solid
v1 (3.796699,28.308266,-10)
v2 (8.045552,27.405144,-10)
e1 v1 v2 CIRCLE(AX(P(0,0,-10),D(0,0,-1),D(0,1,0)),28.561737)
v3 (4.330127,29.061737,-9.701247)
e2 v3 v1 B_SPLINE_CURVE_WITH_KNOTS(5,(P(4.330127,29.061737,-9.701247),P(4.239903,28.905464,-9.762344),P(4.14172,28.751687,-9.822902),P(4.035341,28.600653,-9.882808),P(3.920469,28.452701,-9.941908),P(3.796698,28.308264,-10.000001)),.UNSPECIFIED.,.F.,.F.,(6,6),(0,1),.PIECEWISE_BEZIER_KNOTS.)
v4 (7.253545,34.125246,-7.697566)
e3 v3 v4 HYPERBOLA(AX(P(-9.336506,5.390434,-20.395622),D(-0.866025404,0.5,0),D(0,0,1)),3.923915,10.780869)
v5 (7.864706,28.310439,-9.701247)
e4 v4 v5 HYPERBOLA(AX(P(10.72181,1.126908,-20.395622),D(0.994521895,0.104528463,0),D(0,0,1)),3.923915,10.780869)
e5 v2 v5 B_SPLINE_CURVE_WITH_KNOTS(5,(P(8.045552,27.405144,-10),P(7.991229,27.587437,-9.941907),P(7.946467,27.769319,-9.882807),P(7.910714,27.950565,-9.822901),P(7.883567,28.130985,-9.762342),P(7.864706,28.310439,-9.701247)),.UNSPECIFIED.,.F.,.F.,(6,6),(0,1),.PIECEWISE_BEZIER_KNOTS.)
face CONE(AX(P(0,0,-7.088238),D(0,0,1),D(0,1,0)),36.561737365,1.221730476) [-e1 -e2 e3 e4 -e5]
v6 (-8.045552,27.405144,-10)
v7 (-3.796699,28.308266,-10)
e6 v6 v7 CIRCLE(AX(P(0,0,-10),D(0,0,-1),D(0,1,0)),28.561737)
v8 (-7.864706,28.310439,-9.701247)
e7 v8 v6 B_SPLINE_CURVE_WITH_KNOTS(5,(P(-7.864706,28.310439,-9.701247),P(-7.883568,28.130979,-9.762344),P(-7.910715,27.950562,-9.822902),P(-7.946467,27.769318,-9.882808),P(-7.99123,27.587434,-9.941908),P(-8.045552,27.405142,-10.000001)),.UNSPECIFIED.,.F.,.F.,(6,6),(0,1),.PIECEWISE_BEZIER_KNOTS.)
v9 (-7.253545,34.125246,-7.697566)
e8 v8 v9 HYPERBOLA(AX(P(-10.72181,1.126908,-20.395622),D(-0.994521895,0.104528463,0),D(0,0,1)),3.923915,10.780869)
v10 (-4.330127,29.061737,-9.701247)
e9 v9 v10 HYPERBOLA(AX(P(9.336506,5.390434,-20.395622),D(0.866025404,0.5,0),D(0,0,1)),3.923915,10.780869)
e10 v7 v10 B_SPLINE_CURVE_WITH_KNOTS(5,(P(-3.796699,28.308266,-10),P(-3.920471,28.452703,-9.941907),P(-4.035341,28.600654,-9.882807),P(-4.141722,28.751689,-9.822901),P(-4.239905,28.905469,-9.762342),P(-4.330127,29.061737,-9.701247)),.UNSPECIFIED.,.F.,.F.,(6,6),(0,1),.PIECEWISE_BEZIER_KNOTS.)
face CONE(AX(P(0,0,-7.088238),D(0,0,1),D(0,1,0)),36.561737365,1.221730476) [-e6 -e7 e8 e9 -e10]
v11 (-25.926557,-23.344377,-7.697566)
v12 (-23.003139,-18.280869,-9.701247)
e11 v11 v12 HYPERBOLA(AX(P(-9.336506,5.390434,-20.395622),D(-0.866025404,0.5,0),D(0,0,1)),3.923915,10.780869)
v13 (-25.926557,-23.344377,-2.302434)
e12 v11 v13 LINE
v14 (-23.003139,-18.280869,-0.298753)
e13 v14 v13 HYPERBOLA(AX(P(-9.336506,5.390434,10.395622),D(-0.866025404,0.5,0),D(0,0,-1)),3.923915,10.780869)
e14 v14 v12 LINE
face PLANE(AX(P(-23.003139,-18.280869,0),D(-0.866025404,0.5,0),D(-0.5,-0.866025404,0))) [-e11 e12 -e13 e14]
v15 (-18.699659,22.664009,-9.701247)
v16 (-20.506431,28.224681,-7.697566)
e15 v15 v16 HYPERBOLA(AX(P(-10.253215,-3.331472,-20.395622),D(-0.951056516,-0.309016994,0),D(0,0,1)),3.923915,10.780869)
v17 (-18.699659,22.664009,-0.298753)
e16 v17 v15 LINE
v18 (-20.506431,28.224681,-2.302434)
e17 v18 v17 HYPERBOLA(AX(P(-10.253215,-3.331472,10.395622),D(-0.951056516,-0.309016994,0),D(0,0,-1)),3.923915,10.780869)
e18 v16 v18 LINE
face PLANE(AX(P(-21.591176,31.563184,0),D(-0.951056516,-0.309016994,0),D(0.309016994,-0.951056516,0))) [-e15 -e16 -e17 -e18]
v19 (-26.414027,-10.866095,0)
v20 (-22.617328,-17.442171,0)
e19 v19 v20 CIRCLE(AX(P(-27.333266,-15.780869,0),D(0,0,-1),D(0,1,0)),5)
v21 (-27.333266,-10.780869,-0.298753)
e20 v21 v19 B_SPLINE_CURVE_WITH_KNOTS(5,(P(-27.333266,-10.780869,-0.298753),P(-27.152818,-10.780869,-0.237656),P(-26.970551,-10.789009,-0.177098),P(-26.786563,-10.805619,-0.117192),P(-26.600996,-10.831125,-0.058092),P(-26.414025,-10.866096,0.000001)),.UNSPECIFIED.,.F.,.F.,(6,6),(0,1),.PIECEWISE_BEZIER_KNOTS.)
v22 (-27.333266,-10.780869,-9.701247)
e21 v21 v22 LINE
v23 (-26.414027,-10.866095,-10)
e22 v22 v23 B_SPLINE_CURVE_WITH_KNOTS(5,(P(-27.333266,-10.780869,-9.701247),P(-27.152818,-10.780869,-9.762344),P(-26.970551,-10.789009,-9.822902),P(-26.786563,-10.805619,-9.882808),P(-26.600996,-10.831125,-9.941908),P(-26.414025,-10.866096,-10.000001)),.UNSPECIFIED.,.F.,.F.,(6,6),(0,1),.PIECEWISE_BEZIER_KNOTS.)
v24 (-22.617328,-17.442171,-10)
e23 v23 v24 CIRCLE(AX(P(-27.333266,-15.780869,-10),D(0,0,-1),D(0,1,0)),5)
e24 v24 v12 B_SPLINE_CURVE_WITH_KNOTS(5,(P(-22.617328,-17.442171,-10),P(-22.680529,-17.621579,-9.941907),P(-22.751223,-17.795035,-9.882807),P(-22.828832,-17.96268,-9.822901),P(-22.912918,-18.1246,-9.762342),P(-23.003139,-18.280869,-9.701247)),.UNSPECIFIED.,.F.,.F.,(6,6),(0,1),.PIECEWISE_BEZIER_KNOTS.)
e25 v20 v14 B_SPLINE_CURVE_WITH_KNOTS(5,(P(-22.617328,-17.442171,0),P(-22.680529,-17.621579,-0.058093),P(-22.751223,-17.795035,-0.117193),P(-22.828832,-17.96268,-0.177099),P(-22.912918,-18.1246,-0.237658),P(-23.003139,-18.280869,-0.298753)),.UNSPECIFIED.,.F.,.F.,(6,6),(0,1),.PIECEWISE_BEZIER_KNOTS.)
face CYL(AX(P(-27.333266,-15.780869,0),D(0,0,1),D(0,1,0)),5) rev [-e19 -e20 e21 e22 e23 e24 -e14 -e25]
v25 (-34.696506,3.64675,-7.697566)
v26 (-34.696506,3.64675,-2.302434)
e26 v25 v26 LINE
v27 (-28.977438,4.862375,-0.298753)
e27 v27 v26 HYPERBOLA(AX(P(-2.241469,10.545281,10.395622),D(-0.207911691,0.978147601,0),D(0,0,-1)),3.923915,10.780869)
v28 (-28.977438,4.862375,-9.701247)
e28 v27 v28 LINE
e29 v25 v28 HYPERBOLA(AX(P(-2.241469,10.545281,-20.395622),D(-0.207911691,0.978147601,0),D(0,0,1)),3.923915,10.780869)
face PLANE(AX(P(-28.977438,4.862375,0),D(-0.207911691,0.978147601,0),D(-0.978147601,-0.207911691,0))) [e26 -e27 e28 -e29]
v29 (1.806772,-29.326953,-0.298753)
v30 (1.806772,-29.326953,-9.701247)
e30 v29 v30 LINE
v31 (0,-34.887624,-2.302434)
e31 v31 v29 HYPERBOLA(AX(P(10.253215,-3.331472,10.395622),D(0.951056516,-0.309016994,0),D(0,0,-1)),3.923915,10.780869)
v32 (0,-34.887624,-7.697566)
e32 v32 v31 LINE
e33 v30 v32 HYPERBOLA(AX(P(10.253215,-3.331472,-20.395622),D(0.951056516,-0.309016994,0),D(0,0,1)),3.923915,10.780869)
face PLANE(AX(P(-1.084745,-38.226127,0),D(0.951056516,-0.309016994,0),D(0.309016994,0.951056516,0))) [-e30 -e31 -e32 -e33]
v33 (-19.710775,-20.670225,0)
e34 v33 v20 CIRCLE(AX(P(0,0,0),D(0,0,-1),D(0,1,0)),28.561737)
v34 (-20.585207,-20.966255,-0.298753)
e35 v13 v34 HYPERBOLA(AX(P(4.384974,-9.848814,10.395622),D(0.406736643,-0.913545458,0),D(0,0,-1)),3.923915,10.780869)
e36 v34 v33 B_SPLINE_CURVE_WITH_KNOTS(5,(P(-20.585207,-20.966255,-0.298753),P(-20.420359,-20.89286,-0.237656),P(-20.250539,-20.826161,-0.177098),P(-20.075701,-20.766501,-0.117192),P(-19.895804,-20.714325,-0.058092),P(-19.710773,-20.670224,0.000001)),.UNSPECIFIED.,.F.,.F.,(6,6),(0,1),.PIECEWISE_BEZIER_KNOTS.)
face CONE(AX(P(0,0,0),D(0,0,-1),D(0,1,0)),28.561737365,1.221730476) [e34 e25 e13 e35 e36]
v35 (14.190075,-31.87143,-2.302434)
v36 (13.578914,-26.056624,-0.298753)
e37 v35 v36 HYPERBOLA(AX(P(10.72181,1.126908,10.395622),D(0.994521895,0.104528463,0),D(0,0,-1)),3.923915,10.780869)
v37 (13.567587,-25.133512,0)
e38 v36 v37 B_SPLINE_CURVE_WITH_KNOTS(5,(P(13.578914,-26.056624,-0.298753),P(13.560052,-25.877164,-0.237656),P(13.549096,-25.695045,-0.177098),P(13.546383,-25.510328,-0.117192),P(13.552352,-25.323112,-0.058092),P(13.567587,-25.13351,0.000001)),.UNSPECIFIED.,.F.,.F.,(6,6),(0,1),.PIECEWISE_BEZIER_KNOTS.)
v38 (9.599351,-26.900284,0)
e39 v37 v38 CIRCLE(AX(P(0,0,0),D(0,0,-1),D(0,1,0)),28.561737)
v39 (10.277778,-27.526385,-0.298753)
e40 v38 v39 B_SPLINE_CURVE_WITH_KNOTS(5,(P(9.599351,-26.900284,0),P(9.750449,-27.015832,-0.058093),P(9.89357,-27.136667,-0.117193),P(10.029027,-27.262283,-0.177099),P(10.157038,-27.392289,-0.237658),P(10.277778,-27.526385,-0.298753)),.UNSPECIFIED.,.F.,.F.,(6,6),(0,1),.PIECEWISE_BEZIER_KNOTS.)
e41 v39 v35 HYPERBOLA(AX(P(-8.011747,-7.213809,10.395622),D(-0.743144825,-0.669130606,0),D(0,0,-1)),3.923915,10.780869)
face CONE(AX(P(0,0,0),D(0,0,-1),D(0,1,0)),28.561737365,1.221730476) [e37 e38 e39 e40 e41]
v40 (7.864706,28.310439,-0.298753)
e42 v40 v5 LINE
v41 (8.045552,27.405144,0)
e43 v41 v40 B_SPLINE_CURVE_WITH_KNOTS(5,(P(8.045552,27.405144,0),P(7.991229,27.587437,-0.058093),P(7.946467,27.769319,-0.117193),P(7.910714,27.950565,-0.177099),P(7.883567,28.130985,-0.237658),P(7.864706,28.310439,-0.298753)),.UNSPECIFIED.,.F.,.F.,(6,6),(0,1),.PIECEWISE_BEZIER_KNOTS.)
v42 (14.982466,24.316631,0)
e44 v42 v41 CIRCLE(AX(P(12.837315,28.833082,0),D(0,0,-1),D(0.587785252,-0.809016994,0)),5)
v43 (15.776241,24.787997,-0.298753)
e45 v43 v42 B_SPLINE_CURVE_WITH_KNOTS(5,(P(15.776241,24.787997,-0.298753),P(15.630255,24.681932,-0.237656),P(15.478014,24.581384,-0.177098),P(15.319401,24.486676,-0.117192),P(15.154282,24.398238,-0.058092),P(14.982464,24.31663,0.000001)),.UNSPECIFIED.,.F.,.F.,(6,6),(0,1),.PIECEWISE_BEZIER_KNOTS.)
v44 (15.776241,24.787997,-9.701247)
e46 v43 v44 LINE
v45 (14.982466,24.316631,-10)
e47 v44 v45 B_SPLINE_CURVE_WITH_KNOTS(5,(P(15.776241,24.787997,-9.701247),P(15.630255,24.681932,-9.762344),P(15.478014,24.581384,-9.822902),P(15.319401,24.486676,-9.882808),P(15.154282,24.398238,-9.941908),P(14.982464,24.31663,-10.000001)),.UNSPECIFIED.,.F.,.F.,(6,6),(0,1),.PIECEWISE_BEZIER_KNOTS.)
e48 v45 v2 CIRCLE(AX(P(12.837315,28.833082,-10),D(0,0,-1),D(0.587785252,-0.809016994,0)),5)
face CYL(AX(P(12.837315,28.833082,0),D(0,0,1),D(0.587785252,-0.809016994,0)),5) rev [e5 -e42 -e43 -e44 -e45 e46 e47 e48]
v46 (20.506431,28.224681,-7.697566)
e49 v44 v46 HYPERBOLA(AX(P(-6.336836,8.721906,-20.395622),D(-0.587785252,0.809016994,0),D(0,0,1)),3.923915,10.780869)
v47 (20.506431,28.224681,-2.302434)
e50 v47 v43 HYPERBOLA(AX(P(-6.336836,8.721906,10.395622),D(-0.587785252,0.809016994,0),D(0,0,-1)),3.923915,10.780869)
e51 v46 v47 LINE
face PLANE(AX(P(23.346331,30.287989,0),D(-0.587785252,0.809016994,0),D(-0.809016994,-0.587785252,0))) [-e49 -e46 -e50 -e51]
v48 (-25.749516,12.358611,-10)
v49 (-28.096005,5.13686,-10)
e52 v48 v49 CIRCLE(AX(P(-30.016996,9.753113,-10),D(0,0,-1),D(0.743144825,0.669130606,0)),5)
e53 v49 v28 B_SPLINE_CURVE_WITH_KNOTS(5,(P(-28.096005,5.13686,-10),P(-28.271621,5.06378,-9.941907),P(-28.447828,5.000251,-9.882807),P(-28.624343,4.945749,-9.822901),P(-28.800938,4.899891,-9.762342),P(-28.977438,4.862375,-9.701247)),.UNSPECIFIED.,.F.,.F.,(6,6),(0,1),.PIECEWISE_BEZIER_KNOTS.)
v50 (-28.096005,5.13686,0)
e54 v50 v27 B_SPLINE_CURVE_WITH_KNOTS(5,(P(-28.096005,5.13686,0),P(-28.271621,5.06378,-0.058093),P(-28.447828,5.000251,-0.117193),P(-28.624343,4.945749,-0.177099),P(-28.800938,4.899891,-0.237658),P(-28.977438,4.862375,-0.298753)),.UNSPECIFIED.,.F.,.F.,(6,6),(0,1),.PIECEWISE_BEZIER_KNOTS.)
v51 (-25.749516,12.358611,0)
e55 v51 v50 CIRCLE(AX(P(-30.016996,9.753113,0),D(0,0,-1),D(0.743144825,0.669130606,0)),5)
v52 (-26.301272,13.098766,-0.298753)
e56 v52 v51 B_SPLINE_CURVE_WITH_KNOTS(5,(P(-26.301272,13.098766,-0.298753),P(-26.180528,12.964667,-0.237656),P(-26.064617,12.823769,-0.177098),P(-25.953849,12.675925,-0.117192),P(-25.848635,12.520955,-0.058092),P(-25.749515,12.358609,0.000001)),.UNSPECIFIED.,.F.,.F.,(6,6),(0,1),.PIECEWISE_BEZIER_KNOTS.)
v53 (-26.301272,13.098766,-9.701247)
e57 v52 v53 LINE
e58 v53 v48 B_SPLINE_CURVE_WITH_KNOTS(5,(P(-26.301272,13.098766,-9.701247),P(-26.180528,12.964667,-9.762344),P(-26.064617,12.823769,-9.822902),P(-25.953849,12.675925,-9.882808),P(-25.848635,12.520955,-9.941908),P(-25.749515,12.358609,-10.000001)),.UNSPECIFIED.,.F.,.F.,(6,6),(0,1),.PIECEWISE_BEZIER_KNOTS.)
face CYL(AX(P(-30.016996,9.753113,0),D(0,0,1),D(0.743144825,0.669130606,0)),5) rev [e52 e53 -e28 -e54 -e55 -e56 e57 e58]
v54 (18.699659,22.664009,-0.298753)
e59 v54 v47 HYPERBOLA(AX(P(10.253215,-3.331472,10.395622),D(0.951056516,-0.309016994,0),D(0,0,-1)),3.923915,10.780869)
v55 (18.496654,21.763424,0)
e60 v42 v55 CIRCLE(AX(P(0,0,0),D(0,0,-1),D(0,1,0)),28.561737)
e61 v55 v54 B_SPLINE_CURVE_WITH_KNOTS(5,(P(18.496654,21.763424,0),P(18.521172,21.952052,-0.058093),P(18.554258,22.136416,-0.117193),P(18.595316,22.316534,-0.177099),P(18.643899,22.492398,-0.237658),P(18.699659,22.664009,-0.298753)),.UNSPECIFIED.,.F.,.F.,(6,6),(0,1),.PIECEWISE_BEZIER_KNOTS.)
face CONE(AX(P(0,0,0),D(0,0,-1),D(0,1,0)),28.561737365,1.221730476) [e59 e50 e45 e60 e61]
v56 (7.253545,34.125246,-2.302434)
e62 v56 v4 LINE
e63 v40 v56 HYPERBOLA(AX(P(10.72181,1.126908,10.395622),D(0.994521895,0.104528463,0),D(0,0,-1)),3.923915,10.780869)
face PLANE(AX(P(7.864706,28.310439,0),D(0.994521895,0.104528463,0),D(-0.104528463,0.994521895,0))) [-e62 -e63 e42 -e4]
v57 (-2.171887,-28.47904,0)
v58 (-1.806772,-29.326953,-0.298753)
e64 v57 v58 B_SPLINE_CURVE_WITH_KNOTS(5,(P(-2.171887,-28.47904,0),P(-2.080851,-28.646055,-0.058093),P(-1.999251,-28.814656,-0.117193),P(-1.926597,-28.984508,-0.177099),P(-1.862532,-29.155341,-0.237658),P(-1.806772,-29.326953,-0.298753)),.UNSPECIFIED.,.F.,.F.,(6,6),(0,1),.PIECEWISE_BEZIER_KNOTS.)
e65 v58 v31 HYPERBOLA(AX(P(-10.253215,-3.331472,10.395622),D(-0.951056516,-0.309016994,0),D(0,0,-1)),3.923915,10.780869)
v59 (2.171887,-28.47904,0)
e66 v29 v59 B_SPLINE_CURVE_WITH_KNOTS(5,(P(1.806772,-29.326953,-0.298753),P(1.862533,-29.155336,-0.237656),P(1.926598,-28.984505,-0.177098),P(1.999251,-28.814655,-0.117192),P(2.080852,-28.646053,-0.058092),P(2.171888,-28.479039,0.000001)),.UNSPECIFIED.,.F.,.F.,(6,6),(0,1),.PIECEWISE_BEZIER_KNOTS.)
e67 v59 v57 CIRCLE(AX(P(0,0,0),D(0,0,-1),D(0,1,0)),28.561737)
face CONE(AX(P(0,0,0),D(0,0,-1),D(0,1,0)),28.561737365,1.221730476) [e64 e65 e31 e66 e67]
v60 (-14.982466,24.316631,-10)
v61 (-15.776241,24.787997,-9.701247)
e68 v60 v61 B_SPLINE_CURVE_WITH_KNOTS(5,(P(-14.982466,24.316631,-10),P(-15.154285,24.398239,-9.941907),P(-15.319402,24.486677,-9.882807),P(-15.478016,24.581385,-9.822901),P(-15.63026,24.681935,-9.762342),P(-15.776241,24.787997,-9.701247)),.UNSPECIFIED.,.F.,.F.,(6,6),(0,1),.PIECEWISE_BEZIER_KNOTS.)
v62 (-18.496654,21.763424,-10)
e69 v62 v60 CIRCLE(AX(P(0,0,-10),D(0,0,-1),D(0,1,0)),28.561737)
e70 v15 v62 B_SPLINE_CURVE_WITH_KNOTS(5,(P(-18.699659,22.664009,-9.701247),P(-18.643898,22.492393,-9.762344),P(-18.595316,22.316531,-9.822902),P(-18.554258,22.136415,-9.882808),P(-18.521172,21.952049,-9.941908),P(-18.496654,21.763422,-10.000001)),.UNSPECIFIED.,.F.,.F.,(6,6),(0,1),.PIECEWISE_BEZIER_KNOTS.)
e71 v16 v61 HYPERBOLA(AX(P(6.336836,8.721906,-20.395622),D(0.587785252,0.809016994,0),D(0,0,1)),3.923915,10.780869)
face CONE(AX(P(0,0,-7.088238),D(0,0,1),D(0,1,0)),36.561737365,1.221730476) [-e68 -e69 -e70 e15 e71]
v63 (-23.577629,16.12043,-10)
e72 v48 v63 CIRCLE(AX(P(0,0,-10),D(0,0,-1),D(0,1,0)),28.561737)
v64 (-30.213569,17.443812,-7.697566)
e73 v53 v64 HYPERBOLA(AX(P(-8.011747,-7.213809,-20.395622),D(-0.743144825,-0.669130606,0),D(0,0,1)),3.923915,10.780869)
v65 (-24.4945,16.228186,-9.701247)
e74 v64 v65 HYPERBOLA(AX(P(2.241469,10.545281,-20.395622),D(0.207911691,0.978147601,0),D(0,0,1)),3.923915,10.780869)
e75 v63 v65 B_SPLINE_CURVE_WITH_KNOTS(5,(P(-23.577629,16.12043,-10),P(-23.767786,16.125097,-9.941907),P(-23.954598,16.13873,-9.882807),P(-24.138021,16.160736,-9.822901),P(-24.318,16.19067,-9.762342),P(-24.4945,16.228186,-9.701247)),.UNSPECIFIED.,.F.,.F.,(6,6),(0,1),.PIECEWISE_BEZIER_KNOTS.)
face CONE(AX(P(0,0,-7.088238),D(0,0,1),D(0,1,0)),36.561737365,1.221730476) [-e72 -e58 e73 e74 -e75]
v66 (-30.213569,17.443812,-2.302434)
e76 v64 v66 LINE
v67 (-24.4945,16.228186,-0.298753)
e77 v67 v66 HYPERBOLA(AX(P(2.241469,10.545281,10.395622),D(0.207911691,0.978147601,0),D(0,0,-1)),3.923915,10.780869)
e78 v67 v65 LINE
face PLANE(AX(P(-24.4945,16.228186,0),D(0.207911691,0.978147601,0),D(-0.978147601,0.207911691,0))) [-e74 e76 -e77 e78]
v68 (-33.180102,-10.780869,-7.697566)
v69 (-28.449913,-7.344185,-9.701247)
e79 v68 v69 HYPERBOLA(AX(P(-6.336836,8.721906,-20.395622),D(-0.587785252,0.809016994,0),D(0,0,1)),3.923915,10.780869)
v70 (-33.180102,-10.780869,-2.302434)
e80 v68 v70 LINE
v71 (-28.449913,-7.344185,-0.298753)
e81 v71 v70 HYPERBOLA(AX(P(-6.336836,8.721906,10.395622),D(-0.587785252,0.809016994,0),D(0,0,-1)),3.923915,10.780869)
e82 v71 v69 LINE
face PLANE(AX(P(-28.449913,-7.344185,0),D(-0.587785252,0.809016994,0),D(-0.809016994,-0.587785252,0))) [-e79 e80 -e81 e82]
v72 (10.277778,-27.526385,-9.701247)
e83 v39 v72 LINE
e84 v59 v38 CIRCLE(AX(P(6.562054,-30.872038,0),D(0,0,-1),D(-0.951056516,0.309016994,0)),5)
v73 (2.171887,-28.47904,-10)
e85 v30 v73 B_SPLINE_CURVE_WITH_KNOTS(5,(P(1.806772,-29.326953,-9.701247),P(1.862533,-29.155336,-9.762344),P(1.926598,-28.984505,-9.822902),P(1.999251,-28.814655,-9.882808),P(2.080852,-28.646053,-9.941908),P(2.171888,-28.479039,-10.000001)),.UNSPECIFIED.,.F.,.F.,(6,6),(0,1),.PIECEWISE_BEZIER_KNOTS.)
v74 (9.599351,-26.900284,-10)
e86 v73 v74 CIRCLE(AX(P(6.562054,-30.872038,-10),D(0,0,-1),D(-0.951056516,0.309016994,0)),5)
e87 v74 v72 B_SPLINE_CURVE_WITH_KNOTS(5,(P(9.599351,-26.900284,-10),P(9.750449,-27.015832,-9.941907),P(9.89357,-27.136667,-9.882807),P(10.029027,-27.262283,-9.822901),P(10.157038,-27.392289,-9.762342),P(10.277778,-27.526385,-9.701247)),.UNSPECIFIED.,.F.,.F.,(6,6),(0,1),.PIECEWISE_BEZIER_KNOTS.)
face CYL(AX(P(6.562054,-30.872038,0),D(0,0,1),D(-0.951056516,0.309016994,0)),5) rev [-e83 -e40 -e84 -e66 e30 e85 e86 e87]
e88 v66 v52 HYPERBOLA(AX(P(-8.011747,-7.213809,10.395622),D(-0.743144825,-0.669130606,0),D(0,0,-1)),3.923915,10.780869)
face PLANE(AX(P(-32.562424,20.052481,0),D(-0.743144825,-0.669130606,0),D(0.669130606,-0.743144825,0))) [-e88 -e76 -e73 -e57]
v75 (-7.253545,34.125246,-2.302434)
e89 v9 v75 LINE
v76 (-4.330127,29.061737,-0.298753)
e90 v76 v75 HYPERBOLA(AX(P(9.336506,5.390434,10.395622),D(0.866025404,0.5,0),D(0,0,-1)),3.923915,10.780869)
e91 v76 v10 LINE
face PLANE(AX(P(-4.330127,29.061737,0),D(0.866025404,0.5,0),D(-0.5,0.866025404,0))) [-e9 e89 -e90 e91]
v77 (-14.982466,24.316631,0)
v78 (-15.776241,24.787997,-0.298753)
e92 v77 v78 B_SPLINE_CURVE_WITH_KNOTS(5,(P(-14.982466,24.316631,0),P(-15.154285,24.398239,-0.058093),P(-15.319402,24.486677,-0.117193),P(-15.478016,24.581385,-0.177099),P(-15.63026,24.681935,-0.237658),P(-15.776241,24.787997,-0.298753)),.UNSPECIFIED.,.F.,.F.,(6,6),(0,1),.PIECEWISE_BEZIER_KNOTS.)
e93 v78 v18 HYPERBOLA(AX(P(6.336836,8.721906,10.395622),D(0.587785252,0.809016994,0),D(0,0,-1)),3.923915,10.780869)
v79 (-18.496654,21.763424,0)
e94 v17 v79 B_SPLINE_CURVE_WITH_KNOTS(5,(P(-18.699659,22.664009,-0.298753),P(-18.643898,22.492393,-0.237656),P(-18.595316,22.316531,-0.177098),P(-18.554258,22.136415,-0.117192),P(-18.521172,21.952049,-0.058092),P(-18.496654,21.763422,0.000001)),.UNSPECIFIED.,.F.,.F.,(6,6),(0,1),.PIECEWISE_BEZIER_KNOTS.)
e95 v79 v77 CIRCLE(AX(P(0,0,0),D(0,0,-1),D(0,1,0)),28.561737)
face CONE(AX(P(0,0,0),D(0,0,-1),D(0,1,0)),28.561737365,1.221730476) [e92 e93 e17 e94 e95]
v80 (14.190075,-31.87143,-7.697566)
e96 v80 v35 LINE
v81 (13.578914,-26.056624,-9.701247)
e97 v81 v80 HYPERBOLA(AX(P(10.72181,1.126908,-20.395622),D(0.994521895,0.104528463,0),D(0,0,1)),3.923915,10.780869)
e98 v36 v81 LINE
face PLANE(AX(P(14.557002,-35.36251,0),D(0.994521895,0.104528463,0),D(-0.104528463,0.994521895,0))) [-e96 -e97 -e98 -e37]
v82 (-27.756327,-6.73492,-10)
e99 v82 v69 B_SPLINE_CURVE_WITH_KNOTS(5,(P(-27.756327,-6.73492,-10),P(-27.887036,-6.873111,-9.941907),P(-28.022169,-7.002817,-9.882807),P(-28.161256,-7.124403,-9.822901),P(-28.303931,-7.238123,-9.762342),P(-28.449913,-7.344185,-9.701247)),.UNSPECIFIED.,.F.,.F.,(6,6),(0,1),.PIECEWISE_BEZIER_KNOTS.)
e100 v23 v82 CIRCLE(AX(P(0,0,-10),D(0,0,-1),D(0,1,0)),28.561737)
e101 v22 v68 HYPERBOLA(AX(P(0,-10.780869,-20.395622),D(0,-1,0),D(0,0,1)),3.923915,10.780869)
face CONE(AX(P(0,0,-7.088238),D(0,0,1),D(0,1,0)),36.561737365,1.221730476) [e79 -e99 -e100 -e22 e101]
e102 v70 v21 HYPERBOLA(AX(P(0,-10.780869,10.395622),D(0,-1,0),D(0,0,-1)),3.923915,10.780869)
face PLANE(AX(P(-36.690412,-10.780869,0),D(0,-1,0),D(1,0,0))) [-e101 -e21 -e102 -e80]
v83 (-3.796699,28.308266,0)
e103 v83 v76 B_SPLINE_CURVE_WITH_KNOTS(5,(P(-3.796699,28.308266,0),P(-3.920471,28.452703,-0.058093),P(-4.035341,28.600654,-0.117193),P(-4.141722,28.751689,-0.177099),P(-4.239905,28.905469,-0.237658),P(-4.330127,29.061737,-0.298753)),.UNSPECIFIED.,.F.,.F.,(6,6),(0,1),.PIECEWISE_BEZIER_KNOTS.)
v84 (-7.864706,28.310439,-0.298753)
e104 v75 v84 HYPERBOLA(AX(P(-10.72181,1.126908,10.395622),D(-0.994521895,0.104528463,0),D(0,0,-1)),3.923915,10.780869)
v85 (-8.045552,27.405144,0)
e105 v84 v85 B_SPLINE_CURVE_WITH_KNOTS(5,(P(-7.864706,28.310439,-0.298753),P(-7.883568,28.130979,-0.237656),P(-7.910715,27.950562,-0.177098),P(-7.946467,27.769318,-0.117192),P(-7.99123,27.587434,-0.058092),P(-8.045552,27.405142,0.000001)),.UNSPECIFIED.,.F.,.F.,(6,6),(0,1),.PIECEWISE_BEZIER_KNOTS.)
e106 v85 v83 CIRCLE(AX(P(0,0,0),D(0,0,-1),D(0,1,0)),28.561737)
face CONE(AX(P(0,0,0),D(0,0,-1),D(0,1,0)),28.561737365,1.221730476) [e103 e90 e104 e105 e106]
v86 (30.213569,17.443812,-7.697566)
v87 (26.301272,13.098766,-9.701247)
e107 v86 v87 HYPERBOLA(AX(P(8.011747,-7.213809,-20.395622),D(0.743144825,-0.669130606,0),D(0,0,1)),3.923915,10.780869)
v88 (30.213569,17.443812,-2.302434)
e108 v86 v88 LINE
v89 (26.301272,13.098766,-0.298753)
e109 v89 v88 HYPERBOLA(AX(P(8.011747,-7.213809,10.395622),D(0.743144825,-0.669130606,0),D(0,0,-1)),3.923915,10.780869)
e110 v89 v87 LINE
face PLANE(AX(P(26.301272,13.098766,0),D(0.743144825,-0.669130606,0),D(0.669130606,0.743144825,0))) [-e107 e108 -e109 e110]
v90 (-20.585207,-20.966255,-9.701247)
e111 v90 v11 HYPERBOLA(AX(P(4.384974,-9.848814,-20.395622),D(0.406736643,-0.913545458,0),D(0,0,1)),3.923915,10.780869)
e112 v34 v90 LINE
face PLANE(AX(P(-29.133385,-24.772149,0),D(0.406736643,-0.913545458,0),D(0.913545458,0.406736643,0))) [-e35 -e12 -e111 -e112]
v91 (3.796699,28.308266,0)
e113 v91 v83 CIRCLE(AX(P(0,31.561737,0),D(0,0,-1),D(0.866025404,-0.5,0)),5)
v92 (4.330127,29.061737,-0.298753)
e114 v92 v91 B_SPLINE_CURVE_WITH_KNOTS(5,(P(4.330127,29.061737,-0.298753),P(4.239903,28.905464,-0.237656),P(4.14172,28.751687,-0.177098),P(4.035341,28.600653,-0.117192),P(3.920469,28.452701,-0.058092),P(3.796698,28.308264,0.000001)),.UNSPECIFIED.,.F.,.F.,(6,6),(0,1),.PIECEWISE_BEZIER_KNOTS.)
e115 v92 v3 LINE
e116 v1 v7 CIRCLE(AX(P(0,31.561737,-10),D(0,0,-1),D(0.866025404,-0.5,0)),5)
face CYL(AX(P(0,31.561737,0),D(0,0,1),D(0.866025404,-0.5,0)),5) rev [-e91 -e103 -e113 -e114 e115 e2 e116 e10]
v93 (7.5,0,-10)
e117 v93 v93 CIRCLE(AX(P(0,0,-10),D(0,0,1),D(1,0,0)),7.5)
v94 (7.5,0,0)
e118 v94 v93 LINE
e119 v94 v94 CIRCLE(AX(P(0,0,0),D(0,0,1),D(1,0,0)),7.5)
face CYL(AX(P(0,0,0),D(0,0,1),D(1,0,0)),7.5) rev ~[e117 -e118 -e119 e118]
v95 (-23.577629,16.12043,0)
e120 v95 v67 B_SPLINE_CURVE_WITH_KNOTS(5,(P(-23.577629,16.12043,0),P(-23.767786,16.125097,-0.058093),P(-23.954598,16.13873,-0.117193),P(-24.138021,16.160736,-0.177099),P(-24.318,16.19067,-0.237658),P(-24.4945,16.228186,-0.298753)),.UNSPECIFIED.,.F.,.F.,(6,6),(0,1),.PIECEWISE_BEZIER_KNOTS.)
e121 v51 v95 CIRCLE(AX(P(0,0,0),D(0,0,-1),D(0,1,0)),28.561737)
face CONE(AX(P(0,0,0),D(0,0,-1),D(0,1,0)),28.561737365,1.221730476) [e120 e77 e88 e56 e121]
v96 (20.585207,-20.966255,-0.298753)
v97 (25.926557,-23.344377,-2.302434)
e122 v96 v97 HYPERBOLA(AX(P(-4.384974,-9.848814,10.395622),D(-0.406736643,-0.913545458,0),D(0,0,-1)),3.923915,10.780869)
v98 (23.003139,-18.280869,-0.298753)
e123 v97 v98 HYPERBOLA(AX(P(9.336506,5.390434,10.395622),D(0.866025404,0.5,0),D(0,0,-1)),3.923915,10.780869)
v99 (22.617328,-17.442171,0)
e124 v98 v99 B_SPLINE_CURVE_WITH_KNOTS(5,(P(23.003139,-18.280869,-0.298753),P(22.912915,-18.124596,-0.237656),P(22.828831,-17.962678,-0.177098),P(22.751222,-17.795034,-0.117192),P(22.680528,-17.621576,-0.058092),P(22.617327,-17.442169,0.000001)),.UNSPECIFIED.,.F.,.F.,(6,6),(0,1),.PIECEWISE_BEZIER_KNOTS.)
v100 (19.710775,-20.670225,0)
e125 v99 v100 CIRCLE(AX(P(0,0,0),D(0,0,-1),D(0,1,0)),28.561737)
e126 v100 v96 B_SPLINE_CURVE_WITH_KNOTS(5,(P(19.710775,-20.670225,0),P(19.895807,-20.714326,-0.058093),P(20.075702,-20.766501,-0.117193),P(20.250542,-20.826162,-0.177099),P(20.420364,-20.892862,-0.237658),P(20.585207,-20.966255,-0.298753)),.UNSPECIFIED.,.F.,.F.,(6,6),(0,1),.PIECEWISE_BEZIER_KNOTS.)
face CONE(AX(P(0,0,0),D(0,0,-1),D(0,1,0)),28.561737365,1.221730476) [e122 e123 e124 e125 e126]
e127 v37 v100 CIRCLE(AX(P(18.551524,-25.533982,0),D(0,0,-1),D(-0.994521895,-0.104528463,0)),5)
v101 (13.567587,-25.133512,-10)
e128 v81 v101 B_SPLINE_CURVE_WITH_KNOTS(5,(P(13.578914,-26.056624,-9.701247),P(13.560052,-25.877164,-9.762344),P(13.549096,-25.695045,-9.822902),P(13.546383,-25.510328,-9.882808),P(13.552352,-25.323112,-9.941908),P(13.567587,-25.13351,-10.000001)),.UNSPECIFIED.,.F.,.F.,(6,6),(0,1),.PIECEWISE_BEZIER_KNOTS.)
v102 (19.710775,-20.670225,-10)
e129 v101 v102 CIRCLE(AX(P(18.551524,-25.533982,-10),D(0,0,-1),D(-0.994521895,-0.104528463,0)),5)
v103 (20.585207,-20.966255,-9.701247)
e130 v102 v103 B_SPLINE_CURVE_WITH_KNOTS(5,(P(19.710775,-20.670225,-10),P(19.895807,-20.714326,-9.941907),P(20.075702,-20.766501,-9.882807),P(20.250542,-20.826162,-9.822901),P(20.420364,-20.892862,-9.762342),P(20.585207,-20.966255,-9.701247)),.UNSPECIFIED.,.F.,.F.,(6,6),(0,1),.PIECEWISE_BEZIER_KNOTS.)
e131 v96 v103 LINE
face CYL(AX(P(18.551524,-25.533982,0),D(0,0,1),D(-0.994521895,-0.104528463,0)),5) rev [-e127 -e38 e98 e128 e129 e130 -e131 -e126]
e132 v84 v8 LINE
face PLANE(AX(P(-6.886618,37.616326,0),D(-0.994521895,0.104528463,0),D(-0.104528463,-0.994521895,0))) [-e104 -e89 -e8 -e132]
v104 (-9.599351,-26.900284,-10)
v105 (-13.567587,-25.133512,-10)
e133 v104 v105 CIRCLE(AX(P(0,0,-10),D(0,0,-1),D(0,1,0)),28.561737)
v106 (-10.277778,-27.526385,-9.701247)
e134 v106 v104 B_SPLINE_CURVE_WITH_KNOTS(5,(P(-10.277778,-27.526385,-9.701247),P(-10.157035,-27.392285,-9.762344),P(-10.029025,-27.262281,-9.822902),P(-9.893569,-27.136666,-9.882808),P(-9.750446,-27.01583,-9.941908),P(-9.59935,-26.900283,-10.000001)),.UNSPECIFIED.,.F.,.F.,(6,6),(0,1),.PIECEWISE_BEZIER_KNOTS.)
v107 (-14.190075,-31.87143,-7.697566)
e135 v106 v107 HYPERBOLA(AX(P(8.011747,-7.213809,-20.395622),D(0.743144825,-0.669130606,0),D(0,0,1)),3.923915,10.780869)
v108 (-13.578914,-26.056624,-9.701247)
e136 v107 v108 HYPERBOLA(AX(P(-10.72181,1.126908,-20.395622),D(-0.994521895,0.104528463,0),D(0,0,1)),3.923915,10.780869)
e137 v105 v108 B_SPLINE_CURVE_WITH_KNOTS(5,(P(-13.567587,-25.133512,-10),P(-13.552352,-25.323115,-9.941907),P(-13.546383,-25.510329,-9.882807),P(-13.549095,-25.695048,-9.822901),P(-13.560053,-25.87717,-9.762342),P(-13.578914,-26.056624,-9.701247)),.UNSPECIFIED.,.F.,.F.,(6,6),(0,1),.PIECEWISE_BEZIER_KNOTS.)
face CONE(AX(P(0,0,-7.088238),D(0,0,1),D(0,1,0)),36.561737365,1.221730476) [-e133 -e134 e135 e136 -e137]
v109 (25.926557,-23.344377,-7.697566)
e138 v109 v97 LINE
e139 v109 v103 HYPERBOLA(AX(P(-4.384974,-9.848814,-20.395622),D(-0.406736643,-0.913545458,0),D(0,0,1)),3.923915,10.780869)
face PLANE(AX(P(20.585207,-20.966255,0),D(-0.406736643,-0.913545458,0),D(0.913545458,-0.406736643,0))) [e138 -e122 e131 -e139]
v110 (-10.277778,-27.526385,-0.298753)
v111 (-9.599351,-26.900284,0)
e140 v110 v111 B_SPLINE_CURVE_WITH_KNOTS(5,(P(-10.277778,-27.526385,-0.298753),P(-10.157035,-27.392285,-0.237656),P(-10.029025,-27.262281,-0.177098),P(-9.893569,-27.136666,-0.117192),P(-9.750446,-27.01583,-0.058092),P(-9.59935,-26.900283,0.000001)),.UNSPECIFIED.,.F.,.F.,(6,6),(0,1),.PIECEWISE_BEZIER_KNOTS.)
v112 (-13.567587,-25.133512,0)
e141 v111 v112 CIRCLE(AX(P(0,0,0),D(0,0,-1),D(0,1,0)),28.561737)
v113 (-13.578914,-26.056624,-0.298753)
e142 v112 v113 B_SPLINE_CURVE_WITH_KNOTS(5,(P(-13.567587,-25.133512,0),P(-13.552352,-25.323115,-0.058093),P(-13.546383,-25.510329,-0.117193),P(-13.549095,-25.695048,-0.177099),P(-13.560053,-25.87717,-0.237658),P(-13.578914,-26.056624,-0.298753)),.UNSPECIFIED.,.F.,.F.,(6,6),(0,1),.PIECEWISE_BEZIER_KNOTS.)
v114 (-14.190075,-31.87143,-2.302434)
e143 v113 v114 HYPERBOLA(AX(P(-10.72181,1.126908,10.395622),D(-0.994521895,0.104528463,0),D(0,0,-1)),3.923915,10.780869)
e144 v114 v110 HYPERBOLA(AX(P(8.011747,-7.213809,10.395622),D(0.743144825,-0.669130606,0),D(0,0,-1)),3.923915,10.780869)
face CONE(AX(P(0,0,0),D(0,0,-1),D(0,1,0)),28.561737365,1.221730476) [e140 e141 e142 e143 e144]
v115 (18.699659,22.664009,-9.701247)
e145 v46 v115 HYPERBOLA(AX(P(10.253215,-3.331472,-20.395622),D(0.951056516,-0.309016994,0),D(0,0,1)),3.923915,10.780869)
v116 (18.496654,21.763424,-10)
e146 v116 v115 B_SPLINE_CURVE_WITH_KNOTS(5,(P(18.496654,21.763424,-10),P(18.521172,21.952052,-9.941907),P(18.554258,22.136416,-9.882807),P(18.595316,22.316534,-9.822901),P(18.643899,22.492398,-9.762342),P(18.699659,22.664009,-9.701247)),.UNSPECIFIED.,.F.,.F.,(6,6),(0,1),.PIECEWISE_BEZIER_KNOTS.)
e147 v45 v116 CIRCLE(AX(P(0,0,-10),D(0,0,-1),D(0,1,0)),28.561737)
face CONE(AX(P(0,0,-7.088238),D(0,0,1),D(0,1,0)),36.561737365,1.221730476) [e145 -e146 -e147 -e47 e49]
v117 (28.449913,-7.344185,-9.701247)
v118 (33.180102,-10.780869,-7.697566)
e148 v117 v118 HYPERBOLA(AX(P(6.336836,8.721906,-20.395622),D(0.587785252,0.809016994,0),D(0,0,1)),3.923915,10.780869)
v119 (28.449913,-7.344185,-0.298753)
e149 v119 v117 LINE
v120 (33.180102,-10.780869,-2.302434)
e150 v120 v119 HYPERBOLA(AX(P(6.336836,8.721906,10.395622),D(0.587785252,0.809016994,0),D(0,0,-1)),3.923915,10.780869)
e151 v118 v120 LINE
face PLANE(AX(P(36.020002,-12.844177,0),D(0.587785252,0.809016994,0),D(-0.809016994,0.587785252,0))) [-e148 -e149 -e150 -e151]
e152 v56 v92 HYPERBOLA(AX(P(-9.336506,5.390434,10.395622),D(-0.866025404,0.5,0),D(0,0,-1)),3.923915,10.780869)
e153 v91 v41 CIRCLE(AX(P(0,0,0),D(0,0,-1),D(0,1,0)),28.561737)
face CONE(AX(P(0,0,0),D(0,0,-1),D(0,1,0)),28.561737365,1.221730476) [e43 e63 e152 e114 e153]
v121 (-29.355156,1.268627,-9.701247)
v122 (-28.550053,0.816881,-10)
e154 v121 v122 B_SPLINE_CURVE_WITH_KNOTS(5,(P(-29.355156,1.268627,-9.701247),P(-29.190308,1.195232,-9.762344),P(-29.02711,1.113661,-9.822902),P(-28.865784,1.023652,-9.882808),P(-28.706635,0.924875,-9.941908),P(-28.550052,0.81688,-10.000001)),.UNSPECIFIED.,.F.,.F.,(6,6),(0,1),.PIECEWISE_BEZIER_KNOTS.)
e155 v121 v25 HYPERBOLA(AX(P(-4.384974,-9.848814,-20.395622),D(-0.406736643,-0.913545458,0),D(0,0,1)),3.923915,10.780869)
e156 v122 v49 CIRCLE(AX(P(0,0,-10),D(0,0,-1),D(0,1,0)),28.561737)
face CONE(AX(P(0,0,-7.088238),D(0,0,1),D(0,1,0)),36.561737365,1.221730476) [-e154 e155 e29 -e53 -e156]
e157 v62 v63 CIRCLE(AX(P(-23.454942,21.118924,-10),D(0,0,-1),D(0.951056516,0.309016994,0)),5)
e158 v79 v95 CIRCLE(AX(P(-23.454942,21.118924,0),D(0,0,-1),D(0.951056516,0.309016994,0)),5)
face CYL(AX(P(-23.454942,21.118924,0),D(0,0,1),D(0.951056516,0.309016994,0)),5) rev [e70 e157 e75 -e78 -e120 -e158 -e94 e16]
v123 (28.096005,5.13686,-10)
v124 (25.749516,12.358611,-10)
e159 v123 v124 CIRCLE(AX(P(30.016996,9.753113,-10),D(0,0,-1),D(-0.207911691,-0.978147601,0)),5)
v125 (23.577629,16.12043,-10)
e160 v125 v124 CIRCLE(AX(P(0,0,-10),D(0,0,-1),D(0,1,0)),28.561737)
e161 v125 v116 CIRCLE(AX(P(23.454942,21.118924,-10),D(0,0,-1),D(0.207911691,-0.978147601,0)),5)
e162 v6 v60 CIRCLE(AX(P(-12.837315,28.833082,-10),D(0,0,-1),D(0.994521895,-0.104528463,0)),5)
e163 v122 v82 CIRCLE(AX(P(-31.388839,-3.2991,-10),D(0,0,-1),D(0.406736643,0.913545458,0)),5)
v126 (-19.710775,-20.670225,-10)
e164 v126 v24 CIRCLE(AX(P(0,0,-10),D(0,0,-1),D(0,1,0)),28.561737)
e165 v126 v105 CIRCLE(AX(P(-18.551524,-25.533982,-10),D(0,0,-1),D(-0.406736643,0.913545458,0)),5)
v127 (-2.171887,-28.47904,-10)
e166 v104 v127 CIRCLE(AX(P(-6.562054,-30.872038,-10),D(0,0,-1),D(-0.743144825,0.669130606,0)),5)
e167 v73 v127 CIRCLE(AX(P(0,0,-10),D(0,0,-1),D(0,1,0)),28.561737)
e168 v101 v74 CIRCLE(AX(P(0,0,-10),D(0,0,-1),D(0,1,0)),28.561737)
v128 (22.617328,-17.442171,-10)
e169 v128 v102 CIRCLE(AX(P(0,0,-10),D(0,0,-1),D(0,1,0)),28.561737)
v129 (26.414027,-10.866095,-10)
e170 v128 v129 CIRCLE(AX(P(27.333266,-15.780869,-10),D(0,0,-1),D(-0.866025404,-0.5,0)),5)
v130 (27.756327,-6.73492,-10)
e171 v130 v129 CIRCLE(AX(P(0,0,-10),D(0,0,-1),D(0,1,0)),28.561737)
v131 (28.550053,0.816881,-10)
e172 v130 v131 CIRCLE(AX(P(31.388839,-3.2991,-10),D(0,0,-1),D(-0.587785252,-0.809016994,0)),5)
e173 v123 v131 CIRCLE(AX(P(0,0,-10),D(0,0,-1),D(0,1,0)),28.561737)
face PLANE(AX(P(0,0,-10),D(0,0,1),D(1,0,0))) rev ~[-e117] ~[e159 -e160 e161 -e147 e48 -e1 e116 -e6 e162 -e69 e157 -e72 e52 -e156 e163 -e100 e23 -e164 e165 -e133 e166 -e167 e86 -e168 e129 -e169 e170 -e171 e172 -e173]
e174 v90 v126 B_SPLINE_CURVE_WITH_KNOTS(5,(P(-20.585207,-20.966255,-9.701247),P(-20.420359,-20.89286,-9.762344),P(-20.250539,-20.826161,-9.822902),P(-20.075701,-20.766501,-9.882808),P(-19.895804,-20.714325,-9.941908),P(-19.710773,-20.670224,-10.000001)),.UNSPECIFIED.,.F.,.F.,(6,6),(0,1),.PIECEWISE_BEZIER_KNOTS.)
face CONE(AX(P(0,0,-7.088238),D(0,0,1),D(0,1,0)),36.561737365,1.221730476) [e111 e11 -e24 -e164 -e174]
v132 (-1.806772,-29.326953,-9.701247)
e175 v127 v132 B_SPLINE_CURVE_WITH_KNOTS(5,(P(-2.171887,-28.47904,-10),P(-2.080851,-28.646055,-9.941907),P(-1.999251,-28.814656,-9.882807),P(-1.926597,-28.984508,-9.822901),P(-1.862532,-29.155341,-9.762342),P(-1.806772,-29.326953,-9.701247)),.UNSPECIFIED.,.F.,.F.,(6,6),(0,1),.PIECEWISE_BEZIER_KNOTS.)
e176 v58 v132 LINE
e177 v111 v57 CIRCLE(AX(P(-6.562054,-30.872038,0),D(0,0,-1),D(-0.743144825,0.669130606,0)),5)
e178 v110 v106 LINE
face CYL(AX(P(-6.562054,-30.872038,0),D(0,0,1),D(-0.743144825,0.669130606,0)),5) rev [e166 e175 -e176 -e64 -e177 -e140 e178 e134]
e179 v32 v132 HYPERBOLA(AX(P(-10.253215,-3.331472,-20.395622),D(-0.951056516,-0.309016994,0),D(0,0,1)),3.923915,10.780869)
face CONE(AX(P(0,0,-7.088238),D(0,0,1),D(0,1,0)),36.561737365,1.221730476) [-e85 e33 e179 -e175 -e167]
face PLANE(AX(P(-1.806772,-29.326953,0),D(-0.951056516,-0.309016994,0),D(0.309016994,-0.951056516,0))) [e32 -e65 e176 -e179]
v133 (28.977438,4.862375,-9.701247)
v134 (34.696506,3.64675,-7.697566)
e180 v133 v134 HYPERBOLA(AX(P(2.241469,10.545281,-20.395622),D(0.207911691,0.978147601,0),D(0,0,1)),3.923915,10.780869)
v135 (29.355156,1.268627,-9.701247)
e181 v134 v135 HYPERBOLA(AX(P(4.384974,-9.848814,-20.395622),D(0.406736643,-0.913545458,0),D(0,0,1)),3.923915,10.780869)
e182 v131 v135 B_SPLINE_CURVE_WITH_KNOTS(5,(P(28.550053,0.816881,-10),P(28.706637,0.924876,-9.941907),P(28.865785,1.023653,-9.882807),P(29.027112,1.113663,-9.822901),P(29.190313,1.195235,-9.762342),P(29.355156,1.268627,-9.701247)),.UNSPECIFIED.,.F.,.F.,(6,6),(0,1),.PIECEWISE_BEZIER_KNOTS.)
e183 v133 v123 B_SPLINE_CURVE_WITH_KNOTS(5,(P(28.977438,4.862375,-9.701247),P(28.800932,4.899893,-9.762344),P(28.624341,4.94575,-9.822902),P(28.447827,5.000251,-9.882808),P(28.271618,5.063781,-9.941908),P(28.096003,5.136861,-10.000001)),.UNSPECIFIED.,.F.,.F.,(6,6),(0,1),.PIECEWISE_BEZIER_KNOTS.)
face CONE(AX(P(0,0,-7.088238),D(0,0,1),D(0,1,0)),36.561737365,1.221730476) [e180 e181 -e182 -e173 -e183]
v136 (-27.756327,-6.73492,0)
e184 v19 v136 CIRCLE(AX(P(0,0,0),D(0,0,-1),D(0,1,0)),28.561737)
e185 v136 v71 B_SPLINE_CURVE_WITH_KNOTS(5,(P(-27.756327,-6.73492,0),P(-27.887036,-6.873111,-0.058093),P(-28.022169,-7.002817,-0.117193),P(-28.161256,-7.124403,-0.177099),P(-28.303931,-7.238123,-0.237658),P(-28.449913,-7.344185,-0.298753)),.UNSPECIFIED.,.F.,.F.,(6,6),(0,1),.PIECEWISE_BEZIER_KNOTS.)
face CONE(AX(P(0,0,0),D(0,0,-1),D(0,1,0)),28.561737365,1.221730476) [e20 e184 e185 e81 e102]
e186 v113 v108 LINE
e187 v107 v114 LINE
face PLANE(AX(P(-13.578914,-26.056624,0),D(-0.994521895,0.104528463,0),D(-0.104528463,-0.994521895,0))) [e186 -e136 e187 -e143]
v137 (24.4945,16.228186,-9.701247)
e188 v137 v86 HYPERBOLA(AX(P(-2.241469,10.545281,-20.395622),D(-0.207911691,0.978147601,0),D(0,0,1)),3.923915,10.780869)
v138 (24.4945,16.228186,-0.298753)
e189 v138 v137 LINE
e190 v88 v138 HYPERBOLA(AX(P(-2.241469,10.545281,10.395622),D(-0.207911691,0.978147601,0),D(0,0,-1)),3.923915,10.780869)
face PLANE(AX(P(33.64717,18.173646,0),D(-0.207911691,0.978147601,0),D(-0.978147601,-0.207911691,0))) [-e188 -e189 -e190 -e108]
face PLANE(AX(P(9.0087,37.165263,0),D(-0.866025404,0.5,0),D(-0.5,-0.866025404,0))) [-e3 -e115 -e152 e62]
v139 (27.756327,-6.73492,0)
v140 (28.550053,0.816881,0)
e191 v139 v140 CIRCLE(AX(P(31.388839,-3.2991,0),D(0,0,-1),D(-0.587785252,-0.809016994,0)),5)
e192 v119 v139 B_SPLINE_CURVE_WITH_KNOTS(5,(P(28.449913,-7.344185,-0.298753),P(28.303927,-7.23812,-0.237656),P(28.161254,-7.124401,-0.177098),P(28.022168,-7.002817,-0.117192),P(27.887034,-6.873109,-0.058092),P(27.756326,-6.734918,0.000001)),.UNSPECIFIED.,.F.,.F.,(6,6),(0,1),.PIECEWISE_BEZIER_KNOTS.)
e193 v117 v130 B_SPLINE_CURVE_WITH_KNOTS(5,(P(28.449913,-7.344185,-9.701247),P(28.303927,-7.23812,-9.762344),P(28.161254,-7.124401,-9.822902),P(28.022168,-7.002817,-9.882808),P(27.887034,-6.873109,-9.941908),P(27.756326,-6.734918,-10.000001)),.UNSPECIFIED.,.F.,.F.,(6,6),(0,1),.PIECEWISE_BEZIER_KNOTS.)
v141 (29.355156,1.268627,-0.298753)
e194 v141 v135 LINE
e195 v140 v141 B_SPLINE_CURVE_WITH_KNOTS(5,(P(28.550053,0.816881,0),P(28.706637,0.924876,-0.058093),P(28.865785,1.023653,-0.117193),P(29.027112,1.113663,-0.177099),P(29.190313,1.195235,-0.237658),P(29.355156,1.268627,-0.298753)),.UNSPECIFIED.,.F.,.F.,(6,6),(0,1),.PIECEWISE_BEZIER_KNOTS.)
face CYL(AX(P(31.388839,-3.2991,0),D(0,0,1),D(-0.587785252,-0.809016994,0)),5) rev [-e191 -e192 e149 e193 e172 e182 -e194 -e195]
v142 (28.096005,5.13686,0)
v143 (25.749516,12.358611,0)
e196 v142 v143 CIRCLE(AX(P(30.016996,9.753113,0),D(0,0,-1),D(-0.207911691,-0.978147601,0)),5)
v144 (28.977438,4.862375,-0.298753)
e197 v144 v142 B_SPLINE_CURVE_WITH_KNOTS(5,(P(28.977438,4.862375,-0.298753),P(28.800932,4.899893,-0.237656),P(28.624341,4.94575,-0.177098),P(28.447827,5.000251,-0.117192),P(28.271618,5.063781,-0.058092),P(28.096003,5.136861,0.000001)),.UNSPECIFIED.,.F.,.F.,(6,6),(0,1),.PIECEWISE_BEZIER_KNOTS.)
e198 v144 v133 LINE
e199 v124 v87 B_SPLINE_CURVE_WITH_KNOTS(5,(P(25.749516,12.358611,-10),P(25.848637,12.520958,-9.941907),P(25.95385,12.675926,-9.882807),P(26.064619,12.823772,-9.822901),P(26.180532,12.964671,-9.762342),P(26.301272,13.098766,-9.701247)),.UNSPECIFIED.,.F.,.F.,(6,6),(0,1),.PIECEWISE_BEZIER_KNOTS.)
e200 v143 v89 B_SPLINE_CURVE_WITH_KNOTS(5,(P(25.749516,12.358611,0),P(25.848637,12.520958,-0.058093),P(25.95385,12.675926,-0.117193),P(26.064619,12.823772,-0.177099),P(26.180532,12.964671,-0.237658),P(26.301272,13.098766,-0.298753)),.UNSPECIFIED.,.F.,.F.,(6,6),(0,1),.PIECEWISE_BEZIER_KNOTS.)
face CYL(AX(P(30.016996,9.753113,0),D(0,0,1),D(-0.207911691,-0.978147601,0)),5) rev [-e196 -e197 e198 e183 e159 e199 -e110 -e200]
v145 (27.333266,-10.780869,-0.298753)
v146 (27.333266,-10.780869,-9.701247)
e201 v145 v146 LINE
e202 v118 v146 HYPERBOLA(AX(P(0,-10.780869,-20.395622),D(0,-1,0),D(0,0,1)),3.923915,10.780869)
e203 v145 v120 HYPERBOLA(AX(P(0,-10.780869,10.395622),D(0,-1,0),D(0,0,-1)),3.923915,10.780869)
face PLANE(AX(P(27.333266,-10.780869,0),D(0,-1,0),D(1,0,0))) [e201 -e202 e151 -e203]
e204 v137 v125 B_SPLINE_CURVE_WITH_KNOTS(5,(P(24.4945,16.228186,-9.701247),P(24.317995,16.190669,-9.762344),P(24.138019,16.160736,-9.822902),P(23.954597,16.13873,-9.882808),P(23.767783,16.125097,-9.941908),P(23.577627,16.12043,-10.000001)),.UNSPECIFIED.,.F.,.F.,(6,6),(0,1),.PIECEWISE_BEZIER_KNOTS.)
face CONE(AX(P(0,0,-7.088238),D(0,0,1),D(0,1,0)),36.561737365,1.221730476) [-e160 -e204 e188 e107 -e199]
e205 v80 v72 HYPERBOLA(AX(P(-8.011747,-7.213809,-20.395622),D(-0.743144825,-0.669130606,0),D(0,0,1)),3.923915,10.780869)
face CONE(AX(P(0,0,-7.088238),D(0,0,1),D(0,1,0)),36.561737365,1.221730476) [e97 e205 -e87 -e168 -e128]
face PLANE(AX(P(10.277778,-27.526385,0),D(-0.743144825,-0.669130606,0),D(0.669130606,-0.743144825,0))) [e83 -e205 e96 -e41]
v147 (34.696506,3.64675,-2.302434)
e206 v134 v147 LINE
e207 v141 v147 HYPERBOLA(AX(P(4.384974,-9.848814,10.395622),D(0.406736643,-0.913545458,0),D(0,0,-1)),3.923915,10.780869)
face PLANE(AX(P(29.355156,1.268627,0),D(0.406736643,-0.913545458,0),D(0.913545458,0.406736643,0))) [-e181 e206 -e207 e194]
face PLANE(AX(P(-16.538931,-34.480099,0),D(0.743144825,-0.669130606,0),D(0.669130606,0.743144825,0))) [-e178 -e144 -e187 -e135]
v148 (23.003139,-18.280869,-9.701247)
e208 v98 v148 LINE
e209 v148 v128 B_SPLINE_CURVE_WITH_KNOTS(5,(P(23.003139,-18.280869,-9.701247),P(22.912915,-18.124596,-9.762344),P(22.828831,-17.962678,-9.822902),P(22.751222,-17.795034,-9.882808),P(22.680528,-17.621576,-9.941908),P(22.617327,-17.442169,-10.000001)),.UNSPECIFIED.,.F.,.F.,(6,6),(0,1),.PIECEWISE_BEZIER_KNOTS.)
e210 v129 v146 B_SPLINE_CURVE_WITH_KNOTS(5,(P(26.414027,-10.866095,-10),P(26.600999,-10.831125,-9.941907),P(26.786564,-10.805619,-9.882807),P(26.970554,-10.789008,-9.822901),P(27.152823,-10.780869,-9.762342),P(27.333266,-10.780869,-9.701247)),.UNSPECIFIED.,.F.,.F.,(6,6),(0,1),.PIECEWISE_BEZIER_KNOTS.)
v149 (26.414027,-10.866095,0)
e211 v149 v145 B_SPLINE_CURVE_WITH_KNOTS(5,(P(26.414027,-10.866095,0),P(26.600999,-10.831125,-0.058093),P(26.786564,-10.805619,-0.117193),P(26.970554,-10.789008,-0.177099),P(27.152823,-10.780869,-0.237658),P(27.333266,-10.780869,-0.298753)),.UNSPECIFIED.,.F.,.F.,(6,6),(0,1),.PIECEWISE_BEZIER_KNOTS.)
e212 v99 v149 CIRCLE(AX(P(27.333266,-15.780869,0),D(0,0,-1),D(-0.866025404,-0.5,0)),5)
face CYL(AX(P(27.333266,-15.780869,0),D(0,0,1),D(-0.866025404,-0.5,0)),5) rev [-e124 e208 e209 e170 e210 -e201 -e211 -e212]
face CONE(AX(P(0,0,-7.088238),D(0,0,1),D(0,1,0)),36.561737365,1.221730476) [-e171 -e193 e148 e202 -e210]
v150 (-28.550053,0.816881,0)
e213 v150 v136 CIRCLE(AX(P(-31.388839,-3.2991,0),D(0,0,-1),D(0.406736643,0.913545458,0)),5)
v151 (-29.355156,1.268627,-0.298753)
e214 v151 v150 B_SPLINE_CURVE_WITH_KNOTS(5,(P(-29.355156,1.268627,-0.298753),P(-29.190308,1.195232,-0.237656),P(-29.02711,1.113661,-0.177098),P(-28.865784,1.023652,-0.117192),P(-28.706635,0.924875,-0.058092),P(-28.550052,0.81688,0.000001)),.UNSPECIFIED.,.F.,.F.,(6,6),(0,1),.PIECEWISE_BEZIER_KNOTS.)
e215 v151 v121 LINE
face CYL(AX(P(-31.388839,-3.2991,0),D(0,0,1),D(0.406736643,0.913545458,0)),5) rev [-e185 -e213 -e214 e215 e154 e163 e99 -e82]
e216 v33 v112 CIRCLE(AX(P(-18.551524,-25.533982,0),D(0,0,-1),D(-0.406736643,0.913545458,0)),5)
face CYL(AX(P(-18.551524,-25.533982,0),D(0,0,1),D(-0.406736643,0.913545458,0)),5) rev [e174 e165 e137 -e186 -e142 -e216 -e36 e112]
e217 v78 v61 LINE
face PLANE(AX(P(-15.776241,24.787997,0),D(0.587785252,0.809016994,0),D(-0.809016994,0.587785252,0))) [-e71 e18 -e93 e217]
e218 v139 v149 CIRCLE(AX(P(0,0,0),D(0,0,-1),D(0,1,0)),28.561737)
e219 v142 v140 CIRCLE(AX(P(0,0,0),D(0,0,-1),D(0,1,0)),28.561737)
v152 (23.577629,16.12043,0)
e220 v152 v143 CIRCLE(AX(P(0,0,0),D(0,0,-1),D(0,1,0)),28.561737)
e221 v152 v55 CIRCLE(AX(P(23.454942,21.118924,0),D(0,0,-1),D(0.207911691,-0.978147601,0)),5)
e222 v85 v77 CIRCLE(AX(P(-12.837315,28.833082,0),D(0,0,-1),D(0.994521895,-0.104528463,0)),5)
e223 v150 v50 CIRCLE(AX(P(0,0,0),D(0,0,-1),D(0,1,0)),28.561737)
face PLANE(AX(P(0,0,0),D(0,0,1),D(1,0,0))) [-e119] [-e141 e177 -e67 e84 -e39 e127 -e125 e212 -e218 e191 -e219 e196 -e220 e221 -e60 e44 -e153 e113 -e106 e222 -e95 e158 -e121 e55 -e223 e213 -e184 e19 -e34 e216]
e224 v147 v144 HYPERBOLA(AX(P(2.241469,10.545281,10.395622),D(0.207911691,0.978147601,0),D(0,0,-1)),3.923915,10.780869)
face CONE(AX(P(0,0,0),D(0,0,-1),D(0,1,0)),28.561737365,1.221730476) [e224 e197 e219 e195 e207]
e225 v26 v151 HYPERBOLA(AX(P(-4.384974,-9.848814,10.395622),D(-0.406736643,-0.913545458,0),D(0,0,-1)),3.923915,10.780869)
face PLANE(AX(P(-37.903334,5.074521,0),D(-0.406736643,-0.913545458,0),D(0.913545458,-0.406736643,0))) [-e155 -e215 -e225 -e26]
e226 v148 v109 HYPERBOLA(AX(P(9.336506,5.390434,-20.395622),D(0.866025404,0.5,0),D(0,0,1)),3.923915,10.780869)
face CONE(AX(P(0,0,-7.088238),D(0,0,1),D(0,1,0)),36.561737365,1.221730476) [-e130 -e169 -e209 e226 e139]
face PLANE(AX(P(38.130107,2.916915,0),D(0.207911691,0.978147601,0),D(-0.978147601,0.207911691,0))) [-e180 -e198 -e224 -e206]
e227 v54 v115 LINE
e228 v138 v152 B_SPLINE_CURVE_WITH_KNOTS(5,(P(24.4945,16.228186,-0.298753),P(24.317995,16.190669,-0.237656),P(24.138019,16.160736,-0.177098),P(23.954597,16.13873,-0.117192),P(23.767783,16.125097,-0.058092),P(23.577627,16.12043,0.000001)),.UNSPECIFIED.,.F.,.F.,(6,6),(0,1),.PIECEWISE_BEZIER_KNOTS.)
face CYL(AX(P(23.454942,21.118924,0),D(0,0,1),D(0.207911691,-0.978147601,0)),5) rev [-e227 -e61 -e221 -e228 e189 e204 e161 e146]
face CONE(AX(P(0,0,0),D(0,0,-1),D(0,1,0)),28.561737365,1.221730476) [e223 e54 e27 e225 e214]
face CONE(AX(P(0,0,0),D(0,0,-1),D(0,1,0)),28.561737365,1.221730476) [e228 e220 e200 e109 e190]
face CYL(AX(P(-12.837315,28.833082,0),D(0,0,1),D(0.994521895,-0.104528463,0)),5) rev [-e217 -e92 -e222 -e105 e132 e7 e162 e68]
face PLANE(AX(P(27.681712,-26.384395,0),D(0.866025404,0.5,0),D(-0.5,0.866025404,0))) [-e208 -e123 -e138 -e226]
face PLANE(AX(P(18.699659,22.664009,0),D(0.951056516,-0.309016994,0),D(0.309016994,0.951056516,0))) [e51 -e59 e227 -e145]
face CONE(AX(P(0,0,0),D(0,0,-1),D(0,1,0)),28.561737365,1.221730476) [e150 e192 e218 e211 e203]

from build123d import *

# Parameters (mm, degrees)
IZIM1_R                     = 35
Y_KSEKLIK_EKSTR_ZYON1_DEPTH = 10
KES_EKSTR_ZYON1_DEPTH       = 10
DAIRESEL_KAPLAMA1_COUNT     = 15
IZIM8_R                     = 7.5
KES_EKSTR_ZYON2_DEPTH       = 10


with BuildPart() as part:
    # Çizim1 → Yükseklik-Ekstrüzyon1 (new body)
    with BuildSketch(Plane.XY):
        Circle(IZIM1_R)
    extrude(amount=-Y_KSEKLIK_EKSTR_ZYON1_DEPTH)

    # Çizim2 → Kes-Ekstrüzyon1 (cut)
    with BuildSketch(Plane.XY):
        with BuildLine():
            Line((-4.330127019, 29.061737365), (-9.008699853, 37.16526322))
            Line((-9.008699853, 37.16526322), (9.008699853, 37.16526322))
            Line((9.008699853, 37.16526322), (4.330127019, 29.061737365))
            ThreePointArc((4.330127019, 29.061737365), (0, 26.561737365), (-4.330127019, 29.061737365))
        make_face()
    kes_ekstr_zyon1 = extrude(amount=-KES_EKSTR_ZYON1_DEPTH, mode=Mode.SUBTRACT)

    # Dairesel Kaplama1: Kes-Ekstrüzyon1 ×15 about axis
    dairesel_kaplama1_axis = Axis((0, 0, 0), (0, 0, 1))
    for i in range(1, DAIRESEL_KAPLAMA1_COUNT):
        add(kes_ekstr_zyon1.rotate(dairesel_kaplama1_axis, i * 360 / DAIRESEL_KAPLAMA1_COUNT), mode=Mode.SUBTRACT)

    # Çizim8 → Kes-Ekstrüzyon2 (cut)
    with BuildSketch(Plane.XY):
        Circle(IZIM8_R)
    extrude(amount=-KES_EKSTR_ZYON2_DEPTH, mode=Mode.SUBTRACT)

    # Çizim11 → Kes-Döndür1 (revolve, cut)
    with BuildSketch(Plane(origin=(0, 0, 0), x_dir=(0, 0, -1), z_dir=(1, 0, 0))):
        Polygon((0, 28.561737365), (2.911761874, 36.561737365), (0, 36.561737365), align=None)
        Polygon((10, 36.561737365), (7.088238126, 36.561737365), (10, 28.561737365), align=None)
    revolve(axis=Axis((0, 0, 2.836239844), (0, 0, -1)), mode=Mode.SUBTRACT)


solid = part.part
